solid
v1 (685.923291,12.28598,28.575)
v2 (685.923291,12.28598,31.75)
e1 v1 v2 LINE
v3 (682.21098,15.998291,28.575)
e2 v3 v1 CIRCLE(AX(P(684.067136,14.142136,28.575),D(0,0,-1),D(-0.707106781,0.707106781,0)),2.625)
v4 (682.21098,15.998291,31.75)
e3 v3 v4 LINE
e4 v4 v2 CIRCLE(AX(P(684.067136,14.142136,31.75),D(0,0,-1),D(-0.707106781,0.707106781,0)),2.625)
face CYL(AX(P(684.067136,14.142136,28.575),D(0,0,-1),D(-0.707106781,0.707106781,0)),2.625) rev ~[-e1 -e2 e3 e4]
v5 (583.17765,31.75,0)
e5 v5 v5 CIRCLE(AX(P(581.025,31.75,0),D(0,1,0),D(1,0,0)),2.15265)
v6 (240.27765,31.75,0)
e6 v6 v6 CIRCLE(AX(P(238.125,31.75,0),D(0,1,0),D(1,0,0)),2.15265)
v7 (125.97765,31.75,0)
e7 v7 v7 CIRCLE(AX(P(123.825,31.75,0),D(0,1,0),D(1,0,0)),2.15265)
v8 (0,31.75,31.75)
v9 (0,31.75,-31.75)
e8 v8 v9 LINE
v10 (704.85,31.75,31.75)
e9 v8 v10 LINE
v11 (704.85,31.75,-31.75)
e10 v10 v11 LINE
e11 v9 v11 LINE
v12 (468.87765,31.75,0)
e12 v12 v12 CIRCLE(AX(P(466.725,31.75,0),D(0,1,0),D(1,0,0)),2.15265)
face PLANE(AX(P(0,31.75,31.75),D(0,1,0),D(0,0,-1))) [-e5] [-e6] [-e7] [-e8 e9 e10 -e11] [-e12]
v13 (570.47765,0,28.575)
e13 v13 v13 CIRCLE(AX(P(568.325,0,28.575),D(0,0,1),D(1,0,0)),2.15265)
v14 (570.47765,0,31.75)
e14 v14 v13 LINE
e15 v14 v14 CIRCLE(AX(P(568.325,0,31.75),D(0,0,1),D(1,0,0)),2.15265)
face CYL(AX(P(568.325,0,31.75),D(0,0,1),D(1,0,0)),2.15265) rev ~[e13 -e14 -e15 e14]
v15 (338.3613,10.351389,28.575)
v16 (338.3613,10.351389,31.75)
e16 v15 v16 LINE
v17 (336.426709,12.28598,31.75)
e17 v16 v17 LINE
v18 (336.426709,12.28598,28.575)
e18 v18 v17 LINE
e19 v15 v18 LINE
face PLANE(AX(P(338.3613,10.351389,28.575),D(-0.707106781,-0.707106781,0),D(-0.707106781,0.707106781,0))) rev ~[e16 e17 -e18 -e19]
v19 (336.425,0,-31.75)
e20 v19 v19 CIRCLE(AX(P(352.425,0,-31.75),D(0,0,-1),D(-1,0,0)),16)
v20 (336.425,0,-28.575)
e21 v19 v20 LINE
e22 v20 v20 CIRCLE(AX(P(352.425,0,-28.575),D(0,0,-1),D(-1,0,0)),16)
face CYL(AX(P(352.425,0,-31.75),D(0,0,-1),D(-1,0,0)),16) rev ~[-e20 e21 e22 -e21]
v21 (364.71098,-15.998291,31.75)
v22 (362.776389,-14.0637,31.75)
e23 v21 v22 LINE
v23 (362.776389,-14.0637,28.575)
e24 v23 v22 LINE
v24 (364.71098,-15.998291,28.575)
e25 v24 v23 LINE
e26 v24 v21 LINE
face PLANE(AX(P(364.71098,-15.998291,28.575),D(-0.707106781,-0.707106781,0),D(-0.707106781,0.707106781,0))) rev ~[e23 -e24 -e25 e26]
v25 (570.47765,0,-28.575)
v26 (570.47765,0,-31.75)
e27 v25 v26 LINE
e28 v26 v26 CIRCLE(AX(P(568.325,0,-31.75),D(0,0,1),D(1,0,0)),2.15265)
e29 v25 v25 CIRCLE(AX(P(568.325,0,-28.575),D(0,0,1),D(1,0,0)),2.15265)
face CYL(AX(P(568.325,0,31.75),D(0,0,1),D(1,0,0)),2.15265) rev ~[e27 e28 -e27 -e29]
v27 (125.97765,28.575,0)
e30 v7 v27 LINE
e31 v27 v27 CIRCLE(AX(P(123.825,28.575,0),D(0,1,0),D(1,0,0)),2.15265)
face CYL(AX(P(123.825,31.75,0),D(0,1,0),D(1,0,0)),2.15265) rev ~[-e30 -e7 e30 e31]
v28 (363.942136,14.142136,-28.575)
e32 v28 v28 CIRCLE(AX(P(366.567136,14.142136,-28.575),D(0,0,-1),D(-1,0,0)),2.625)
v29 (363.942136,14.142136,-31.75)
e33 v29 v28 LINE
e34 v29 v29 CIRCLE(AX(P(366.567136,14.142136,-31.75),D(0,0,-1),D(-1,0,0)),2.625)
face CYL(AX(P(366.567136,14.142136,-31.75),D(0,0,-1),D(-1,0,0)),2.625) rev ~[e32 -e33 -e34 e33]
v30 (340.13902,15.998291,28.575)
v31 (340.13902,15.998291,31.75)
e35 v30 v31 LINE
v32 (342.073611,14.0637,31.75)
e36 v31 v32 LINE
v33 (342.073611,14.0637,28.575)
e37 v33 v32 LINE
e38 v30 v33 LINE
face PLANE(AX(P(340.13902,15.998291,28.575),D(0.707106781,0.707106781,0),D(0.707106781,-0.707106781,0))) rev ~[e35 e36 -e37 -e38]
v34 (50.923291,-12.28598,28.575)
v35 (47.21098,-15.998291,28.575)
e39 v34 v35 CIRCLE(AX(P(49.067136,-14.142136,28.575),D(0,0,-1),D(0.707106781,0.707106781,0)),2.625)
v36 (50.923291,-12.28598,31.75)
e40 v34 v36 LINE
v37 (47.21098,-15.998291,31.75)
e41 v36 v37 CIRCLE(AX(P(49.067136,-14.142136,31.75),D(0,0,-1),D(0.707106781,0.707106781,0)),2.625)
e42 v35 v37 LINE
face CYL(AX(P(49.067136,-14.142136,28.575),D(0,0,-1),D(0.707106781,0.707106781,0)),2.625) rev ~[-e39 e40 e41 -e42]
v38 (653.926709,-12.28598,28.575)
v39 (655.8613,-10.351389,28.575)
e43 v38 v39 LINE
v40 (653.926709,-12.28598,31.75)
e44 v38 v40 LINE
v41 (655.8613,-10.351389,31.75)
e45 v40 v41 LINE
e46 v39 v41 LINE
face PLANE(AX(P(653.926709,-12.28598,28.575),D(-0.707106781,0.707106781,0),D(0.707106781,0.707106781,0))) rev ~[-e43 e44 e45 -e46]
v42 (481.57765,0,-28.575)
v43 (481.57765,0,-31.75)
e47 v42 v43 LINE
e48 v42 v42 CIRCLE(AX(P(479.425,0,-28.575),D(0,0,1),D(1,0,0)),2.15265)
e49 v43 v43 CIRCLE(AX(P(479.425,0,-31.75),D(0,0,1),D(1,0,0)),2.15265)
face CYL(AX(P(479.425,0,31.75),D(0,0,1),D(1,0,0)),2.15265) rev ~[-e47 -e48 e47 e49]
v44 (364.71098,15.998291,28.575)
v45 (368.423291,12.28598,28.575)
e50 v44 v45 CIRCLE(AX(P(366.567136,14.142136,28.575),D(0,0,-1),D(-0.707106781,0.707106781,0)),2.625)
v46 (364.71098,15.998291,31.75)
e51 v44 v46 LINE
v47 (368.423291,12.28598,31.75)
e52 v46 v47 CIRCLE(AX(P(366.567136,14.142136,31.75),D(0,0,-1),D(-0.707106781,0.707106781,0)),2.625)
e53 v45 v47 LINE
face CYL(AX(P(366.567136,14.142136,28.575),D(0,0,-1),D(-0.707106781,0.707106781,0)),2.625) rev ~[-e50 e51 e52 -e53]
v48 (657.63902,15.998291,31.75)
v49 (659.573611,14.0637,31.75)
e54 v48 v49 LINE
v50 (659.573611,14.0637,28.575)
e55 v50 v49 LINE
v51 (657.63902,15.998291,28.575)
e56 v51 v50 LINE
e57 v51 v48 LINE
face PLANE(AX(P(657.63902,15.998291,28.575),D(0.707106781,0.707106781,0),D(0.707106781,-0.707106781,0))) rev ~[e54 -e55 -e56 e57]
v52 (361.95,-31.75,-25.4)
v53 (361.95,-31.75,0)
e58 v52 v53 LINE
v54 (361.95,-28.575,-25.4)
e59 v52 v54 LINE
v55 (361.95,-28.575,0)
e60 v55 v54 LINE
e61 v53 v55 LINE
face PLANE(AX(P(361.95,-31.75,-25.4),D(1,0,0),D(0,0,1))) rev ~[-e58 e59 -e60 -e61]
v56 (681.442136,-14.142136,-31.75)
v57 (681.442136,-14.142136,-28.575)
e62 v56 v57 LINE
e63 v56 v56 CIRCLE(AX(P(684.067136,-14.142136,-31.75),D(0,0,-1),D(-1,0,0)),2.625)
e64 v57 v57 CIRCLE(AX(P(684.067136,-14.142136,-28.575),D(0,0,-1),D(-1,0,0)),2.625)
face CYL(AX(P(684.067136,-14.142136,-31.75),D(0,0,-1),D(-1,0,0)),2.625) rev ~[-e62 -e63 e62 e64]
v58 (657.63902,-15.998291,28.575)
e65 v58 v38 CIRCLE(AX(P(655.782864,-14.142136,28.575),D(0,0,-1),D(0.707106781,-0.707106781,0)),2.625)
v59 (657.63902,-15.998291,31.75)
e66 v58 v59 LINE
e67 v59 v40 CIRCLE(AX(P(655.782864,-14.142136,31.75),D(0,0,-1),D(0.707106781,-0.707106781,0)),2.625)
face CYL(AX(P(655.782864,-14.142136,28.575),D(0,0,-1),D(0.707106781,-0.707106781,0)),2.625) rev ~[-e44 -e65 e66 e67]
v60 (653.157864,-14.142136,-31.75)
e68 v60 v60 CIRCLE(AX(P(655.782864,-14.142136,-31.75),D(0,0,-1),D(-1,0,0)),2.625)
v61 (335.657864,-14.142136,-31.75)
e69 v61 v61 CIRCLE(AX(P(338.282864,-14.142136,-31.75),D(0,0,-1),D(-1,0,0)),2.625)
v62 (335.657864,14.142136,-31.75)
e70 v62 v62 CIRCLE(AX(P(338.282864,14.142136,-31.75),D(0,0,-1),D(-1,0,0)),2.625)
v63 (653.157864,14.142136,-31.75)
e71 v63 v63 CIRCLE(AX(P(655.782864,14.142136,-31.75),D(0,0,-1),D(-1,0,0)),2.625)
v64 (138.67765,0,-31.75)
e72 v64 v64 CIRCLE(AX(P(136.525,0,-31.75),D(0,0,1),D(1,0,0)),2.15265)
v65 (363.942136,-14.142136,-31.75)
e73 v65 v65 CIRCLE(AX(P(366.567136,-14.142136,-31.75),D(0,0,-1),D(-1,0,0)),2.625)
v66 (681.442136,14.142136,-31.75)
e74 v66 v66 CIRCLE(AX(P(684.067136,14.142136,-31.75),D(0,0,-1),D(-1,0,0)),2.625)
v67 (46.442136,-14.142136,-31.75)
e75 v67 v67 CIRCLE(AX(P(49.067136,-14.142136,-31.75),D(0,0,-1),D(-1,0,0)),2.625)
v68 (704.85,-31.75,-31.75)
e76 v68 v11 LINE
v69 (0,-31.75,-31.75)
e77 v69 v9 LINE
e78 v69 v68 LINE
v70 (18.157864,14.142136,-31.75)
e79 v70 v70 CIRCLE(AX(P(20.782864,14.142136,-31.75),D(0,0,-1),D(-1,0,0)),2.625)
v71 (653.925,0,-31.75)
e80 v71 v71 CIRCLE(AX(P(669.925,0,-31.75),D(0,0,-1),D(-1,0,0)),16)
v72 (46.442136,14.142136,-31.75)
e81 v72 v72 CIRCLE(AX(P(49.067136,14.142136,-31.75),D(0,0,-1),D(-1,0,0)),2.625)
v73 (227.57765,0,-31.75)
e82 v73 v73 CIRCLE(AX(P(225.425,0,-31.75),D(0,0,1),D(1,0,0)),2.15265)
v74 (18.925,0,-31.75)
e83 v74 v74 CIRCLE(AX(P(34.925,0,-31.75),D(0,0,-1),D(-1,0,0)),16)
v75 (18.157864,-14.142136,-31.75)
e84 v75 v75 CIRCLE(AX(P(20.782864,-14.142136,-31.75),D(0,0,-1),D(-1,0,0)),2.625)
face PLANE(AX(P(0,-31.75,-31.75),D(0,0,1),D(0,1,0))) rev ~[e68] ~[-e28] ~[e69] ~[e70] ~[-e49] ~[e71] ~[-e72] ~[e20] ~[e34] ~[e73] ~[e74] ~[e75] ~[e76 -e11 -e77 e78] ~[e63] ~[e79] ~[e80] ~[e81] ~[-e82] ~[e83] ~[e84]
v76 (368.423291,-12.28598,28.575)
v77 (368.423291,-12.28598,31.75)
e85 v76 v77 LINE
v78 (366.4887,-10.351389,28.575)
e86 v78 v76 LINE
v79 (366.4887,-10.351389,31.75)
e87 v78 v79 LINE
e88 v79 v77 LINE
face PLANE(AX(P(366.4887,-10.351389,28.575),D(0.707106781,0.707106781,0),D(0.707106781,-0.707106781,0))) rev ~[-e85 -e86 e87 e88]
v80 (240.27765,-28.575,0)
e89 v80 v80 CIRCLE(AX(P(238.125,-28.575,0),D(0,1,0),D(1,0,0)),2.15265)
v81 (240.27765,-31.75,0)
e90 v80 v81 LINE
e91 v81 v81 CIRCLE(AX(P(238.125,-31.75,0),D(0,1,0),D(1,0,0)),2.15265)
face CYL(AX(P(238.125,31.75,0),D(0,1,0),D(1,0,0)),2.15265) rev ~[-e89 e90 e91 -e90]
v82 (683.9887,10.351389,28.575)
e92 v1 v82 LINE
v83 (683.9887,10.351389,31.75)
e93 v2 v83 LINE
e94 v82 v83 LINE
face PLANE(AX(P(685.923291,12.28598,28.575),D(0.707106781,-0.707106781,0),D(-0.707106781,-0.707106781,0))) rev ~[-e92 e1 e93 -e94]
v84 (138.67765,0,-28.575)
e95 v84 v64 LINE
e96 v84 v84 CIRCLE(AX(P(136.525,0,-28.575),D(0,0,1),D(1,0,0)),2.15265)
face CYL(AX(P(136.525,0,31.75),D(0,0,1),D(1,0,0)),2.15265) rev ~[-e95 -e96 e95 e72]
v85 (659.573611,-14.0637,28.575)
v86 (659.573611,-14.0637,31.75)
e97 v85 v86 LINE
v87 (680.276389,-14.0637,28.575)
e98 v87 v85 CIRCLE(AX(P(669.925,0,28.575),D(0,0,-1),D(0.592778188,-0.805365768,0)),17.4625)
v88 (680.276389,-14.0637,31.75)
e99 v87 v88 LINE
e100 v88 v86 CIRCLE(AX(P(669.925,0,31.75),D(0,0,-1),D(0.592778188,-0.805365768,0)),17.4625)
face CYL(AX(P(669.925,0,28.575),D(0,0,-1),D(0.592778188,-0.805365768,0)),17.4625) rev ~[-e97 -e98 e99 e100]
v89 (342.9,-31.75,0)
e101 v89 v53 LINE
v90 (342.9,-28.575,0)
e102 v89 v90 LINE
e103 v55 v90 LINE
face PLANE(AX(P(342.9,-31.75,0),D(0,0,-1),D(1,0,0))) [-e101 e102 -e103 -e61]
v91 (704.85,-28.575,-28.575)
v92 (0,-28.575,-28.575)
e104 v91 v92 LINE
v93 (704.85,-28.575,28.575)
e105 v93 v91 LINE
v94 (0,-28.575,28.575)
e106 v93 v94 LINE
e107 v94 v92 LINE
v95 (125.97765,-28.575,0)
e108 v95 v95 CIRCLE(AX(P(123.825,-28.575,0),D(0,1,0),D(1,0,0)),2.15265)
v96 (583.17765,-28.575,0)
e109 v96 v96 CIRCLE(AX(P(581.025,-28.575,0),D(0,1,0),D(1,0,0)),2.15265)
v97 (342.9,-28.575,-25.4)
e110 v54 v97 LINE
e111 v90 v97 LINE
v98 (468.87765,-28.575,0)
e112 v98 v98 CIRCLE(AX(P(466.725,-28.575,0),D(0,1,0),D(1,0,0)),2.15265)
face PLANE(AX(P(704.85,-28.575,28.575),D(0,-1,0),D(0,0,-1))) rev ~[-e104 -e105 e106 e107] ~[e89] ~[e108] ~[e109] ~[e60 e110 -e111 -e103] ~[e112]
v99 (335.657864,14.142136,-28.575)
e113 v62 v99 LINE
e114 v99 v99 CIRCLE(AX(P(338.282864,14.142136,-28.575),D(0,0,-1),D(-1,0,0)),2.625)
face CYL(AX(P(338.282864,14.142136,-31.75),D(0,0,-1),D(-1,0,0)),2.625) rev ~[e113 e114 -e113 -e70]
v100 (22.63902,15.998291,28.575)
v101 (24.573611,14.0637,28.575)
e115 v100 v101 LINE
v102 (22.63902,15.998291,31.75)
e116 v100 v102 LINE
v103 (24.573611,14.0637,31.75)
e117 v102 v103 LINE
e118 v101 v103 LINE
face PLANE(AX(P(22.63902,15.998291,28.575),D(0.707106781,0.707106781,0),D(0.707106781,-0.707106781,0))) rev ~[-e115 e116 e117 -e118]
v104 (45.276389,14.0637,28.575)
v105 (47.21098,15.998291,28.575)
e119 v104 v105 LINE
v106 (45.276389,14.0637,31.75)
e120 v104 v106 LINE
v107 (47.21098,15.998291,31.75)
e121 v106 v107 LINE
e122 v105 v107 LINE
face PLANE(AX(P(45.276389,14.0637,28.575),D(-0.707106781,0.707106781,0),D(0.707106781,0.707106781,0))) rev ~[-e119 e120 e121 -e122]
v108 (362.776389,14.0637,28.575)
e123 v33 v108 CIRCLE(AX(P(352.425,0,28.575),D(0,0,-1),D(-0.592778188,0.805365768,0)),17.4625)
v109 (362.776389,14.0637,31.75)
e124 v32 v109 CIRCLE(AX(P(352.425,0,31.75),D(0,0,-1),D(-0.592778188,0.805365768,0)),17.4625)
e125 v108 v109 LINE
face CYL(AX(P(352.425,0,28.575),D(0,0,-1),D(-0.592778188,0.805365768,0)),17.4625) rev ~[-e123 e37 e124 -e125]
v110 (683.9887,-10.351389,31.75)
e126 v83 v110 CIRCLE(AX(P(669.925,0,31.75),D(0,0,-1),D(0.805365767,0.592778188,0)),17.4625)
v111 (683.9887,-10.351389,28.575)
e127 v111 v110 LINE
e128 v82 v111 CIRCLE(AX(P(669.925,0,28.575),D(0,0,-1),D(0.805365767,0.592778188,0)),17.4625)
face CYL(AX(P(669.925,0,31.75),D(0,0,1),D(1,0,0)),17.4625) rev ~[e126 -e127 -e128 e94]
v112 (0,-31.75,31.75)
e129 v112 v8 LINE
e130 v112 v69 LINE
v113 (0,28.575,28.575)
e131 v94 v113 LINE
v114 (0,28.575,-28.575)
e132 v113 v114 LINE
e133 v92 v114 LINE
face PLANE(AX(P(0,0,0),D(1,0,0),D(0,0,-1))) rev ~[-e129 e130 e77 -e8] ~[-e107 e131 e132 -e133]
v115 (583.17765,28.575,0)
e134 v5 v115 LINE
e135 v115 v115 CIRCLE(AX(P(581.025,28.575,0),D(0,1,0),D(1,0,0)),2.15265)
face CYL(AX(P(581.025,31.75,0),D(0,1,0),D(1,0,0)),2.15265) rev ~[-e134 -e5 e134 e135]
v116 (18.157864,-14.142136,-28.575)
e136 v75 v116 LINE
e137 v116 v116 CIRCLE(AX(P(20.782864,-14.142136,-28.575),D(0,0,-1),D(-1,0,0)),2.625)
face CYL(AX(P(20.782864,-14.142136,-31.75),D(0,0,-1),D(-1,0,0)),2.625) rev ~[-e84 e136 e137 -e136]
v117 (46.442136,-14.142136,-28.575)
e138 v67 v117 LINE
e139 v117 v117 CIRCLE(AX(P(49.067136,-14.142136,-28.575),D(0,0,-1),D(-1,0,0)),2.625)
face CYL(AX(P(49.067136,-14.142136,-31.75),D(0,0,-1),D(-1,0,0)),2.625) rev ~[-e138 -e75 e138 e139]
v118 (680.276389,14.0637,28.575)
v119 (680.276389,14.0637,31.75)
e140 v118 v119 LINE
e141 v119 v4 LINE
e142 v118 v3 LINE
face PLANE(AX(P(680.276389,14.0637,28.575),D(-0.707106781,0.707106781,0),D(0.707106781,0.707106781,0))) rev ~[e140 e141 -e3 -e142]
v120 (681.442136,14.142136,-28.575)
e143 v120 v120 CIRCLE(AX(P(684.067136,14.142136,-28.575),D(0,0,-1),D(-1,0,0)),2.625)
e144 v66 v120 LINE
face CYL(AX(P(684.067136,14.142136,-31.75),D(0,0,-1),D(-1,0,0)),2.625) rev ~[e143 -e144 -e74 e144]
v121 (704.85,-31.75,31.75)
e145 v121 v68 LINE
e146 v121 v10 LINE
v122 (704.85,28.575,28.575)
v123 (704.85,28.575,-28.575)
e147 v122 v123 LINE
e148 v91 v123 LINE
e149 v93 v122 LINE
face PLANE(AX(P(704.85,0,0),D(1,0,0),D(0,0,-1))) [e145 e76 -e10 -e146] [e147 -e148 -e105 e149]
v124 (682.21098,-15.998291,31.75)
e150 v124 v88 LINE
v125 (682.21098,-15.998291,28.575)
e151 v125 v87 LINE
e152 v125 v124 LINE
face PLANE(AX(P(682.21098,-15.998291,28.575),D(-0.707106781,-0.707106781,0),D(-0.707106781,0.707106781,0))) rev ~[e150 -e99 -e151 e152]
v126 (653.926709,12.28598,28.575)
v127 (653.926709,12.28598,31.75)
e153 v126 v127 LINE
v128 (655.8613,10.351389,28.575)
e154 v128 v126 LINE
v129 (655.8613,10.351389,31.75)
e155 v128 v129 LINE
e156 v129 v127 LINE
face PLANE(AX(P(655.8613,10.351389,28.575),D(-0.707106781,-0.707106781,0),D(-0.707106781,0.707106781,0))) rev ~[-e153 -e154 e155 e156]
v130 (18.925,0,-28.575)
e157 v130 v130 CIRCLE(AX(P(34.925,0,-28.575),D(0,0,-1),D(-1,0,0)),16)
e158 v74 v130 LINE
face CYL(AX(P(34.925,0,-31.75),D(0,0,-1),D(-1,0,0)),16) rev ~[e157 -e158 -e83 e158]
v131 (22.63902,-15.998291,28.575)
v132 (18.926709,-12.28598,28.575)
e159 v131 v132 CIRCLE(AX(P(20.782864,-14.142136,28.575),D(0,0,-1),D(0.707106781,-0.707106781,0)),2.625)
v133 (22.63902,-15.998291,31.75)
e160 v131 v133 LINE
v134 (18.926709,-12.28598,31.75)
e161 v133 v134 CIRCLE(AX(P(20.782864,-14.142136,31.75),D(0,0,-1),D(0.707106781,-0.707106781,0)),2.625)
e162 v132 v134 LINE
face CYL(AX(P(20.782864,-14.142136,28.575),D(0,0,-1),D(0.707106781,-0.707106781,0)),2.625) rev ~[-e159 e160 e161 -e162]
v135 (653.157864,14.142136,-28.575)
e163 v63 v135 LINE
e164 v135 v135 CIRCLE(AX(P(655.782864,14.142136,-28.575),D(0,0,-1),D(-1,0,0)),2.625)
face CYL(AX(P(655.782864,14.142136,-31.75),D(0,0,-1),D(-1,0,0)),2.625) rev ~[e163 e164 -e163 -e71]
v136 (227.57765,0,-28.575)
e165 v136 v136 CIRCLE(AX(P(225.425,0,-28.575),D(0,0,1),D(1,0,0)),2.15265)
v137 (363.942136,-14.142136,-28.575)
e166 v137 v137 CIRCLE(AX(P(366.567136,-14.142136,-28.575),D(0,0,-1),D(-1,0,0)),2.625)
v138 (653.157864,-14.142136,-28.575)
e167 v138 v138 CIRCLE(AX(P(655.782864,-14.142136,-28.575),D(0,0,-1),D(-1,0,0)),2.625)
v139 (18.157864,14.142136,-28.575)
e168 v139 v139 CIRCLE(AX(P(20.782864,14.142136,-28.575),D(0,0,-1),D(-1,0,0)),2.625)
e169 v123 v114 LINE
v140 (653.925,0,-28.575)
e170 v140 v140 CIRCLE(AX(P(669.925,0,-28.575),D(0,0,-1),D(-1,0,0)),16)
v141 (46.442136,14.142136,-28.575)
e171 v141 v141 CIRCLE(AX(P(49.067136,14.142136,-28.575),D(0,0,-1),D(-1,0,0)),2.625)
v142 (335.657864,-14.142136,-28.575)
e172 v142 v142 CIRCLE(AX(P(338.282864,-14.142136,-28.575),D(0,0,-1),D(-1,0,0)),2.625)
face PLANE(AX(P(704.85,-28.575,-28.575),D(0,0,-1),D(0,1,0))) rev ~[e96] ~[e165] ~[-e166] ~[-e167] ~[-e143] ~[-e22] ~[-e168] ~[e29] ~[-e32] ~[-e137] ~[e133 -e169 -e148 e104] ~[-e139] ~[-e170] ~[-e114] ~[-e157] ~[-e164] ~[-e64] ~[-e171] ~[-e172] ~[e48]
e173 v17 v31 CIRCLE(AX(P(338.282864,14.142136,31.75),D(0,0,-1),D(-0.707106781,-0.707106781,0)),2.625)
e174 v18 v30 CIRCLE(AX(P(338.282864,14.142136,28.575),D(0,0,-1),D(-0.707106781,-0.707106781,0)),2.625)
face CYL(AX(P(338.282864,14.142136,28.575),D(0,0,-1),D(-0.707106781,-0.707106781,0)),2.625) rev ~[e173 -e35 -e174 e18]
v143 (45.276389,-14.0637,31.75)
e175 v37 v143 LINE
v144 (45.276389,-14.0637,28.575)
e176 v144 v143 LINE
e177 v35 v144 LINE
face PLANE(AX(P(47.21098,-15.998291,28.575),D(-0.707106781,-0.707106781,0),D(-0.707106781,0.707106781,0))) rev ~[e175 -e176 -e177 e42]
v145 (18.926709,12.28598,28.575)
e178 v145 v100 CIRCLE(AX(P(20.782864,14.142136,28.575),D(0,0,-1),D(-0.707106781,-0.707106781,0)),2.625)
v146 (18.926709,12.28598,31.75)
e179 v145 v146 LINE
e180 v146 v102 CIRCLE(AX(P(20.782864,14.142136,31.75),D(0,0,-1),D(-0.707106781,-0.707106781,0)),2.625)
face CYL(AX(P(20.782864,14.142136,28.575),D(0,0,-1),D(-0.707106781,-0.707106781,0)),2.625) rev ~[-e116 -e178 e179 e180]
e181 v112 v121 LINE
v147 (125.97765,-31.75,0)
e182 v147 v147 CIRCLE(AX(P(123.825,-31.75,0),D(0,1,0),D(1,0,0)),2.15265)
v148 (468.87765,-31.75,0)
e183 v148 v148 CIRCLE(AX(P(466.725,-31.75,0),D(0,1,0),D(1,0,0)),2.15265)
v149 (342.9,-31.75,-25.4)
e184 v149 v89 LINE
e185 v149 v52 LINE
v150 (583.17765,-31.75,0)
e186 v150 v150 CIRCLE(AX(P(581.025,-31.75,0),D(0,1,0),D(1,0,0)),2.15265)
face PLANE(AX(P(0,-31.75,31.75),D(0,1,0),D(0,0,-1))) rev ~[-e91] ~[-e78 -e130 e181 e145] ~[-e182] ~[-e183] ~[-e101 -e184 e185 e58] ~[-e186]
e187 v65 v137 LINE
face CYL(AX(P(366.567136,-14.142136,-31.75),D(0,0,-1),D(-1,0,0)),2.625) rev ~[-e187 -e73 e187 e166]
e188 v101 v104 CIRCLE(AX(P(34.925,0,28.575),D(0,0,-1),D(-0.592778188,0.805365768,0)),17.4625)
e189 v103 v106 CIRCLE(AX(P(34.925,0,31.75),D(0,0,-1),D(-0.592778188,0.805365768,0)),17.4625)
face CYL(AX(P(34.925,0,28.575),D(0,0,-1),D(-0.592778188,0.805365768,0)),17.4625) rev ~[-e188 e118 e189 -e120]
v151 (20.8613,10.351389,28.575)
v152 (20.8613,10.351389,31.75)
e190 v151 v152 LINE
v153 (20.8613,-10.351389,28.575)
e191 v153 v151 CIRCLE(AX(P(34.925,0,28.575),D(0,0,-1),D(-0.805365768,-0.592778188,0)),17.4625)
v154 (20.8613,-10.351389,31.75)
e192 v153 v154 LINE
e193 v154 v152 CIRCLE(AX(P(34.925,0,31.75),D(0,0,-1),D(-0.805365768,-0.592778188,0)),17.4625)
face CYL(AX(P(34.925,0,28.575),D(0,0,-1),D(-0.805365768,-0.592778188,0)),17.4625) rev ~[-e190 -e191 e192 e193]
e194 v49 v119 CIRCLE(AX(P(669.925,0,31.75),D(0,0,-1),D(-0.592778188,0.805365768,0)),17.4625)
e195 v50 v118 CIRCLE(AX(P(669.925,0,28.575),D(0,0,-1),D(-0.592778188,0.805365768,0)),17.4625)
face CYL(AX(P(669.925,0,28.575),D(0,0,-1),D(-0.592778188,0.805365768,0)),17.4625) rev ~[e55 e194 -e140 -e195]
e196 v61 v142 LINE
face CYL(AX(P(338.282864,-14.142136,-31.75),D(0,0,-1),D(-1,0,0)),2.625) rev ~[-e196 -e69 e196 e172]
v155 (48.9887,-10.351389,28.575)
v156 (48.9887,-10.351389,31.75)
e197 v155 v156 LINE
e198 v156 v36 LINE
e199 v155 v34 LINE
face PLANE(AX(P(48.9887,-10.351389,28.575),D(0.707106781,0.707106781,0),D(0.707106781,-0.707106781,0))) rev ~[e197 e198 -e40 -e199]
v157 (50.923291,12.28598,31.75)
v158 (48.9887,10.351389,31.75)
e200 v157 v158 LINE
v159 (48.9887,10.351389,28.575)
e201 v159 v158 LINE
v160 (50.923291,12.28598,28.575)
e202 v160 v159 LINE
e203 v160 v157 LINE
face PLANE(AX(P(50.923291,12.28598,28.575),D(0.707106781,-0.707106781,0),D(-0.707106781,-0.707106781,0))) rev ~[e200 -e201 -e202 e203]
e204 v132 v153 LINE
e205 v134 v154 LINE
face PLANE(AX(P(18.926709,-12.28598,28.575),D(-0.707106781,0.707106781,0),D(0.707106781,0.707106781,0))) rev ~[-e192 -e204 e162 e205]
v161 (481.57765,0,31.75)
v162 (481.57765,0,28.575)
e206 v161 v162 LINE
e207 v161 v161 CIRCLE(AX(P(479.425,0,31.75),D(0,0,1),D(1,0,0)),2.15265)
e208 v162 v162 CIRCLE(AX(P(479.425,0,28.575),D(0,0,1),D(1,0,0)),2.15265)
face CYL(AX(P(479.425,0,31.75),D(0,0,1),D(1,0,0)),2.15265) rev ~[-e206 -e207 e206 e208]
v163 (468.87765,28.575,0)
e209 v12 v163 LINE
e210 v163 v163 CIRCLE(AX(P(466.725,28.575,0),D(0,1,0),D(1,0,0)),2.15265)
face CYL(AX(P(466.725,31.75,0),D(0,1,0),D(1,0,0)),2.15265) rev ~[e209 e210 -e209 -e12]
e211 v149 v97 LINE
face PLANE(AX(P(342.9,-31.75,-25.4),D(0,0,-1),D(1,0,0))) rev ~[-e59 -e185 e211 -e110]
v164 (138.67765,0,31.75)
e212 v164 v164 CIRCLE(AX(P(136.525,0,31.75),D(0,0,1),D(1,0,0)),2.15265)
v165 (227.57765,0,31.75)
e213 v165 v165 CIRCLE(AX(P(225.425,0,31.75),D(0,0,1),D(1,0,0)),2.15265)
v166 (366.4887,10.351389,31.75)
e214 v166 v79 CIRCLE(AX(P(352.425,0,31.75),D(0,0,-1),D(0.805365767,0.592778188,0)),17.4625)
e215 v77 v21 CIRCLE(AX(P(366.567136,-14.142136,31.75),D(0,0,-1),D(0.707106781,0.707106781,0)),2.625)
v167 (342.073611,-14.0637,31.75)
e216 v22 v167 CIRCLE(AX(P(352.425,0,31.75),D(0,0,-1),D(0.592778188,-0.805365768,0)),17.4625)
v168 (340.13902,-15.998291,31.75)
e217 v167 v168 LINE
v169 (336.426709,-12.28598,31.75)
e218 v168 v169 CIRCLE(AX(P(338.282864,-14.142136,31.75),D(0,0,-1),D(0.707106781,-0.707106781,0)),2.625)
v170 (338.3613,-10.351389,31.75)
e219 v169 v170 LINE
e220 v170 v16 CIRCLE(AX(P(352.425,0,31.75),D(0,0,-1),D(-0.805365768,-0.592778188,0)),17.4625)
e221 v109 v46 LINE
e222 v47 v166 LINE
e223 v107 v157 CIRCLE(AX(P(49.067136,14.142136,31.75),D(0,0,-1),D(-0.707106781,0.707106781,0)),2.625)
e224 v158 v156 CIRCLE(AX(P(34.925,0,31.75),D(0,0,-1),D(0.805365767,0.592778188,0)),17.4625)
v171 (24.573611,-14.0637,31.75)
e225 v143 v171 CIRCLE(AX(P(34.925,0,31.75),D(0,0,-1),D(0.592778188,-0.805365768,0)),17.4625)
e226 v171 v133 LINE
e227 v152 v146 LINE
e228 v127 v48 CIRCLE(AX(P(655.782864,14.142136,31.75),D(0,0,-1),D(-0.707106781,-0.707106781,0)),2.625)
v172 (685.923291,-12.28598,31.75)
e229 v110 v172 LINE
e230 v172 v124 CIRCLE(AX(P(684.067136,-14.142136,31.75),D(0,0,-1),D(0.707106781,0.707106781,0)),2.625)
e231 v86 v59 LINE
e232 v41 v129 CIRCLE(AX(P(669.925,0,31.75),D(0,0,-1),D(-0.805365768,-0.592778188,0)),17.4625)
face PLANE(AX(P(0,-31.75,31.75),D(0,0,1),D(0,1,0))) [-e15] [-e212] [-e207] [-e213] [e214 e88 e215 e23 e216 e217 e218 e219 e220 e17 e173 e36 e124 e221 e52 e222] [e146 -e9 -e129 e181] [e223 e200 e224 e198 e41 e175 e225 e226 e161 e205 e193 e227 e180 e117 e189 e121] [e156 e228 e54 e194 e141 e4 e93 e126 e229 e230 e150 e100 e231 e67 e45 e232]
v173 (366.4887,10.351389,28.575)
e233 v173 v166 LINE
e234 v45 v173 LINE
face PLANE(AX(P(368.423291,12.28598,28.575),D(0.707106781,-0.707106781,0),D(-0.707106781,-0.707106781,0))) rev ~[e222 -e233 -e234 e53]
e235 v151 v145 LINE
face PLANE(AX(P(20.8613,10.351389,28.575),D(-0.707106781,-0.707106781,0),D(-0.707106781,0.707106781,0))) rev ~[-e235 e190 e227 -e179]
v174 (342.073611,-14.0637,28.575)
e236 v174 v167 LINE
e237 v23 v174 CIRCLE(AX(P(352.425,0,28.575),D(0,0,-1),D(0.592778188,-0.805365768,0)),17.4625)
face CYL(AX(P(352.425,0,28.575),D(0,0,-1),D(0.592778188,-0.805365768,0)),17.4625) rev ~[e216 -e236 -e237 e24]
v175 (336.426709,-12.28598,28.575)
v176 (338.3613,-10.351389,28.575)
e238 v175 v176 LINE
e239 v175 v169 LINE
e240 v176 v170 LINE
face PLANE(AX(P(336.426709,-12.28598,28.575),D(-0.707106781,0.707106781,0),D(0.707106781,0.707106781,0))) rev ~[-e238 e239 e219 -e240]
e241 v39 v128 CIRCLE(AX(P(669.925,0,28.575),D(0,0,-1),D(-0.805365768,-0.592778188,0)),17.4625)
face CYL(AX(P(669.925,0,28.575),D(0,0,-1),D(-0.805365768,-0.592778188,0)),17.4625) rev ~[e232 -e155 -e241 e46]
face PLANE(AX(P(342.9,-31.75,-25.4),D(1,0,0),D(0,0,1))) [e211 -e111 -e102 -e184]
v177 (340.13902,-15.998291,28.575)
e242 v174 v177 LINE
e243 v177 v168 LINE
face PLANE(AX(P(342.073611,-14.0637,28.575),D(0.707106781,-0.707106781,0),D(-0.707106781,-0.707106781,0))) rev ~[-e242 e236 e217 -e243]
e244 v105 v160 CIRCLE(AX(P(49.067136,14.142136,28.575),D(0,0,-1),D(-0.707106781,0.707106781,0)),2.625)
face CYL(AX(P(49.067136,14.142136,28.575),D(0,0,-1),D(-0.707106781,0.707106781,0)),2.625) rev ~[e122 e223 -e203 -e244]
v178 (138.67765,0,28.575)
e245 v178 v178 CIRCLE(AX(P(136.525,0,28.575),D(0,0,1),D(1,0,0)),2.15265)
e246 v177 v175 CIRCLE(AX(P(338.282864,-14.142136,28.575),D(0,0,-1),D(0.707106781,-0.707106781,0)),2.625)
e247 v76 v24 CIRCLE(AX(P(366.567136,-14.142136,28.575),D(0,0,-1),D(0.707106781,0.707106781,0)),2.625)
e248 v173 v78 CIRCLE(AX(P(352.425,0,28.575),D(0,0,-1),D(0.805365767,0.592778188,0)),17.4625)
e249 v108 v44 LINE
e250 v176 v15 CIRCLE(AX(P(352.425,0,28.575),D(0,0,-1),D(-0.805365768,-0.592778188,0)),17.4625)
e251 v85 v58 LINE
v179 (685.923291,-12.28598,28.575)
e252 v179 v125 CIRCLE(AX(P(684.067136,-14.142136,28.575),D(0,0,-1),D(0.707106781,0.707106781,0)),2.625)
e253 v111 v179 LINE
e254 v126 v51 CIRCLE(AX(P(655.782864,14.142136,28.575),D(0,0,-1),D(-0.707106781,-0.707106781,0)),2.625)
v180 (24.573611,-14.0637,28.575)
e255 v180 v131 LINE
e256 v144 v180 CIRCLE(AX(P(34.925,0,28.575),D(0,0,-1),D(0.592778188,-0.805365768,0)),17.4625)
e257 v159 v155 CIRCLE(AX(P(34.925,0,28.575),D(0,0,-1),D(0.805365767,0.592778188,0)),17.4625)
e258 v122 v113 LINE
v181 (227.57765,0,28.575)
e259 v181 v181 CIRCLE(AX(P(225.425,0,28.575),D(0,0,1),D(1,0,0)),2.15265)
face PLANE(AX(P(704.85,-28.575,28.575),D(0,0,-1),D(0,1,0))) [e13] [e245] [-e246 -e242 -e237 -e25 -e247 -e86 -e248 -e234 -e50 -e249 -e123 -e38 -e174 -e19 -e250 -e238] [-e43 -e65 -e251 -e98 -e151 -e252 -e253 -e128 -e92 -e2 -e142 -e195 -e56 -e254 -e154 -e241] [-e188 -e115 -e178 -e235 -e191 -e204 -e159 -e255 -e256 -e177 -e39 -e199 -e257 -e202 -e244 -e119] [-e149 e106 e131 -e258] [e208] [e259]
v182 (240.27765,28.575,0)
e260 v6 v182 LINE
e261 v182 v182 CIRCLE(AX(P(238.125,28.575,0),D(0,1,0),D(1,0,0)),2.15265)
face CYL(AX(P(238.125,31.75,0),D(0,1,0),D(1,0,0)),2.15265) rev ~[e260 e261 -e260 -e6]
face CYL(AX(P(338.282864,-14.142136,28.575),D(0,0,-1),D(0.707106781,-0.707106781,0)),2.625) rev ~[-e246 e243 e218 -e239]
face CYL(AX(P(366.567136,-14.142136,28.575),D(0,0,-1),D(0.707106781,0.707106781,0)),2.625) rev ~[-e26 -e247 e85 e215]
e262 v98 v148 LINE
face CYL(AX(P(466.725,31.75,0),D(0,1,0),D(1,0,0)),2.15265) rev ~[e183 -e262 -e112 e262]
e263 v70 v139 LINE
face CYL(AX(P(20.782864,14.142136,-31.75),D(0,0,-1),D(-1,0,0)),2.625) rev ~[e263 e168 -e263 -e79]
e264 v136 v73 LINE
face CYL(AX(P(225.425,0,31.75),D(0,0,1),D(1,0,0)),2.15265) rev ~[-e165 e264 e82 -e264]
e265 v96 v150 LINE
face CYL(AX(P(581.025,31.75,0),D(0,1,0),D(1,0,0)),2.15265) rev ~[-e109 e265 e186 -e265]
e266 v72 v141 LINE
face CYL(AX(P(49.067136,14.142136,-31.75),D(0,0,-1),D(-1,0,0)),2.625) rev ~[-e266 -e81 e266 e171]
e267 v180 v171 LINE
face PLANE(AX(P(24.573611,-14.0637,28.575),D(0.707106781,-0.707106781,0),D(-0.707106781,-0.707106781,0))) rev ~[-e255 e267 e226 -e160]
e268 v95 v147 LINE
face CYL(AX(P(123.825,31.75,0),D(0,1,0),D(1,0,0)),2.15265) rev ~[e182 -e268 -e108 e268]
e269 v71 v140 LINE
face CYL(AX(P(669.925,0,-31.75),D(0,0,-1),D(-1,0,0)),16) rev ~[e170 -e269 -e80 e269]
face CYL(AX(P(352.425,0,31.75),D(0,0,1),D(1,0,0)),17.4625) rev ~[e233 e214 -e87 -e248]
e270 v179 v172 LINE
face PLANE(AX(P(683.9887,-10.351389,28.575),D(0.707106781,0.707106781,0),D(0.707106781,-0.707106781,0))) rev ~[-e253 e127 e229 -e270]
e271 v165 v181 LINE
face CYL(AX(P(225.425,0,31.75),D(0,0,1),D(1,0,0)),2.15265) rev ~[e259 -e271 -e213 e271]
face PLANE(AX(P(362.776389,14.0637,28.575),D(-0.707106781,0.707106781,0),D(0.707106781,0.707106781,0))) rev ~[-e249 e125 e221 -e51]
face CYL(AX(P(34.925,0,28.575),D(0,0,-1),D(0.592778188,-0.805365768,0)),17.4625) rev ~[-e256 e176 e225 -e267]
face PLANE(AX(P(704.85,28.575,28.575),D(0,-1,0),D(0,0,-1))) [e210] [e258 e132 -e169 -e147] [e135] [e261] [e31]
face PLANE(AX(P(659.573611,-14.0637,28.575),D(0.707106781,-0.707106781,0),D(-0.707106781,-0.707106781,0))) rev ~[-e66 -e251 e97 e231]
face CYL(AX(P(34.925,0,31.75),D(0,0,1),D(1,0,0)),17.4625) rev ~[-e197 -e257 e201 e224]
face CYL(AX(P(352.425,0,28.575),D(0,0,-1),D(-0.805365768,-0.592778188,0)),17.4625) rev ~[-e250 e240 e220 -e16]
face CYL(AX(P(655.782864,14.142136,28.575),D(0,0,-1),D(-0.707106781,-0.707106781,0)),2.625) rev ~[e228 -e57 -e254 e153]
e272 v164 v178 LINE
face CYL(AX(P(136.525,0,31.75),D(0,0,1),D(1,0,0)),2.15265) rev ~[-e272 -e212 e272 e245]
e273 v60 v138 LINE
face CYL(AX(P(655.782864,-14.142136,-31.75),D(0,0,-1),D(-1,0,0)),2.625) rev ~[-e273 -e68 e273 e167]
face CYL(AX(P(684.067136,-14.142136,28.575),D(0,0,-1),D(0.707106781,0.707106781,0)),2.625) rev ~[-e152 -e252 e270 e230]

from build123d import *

# Parameters (mm, degrees)
SKETCH1_W           = 63.5
SKETCH1_H           = 63.5
BOSS_EXTRUDE1_DEPTH = 704.85
SKETCH2_W           = 57.15
SKETCH2_H           = 57.15
CUT_EXTRUDE1_DEPTH  = 705.85
CUT_EXTRUDE2_REACH  = 65.5
SKETCH3_R           = 17.4625
SKETCH8_R           = 2.15265
CUT_EXTRUDE6_DEPTH  = 64.5
SKETCH10_R          = 2.15265
CUT_EXTRUDE7_DEPTH  = 64.5
CUT_EXTRUDE9_REACH  = 65.5
SKETCH13_R          = 16
SKETCH14_R          = 2.625
SKETCH14_R_2        = 16
CUT_EXTRUDE10_DEPTH = 3.175
CUT_EXTRUDE11_START = -3.175
CUT_EXTRUDE11_DEPTH = 3.175
CUT_EXTRUDE13_REACH = 65.5
SKETCH17_W          = 19.05
SKETCH17_H          = 25.4


with BuildPart() as part:
    # Sketch1 → Boss-Extrude1 (new body)
    with BuildSketch(Plane(origin=(0, 0, 0), x_dir=(0, 0, -1), z_dir=(1, 0, 0))):
        Rectangle(SKETCH1_W, SKETCH1_H)
    extrude(amount=BOSS_EXTRUDE1_DEPTH)

    # Sketch2 → Cut-Extrude1 (cut, through all)
    with BuildSketch(Plane(origin=(704.85, 0, 0), x_dir=(0, 0, -1), z_dir=(1, 0, 0))):
        Rectangle(SKETCH2_W, SKETCH2_H)
    extrude(amount=-CUT_EXTRUDE1_DEPTH, mode=Mode.SUBTRACT)

    # Sketch3 → Cut-Extrude2 (cut, up to next)
    with BuildSketch(Plane.XY.offset(31.75), mode=Mode.PRIVATE) as cut_extrude2_sk1:
        with Locations((352.425, 0)):
            Circle(SKETCH3_R)
    cut_extrude2_tool1 = extrude(cut_extrude2_sk1.sketch, amount=-CUT_EXTRUDE2_REACH, mode=Mode.PRIVATE) & part.part
    add(cut_extrude2_tool1.solids().sort_by_distance((352.425, 0, 31.75))[0], mode=Mode.SUBTRACT)
    # Sketch3 → Cut-Extrude2 (cut, up to next)
    with BuildSketch(Plane.XY.offset(31.75), mode=Mode.PRIVATE) as cut_extrude2_sk2:
        with Locations((34.925, 0)):
            Circle(SKETCH3_R)
    cut_extrude2_tool2 = extrude(cut_extrude2_sk2.sketch, amount=-CUT_EXTRUDE2_REACH, mode=Mode.PRIVATE) & part.part
    add(cut_extrude2_tool2.solids().sort_by_distance((34.925, 0, 31.75))[0], mode=Mode.SUBTRACT)
    # Sketch3 → Cut-Extrude2 (cut, up to next)
    with BuildSketch(Plane.XY.offset(31.75), mode=Mode.PRIVATE) as cut_extrude2_sk3:
        with Locations((669.925, 0)):
            Circle(SKETCH3_R)
    cut_extrude2_tool3 = extrude(cut_extrude2_sk3.sketch, amount=-CUT_EXTRUDE2_REACH, mode=Mode.PRIVATE) & part.part
    add(cut_extrude2_tool3.solids().sort_by_distance((669.925, 0, 31.75))[0], mode=Mode.SUBTRACT)

    # Sketch8 → Cut-Extrude6 (cut, through all)
    with BuildSketch(Plane(origin=(0, 31.75, 0), x_dir=(1, 0, 0), z_dir=(0, 1, 0))):
        with Locations((466.725, 0)):
            Circle(SKETCH8_R)
        with Locations((123.825, 0)):
            Circle(SKETCH8_R)
        with Locations((581.025, 0)):
            Circle(SKETCH8_R)
        with Locations((238.125, 0)):
            Circle(SKETCH8_R)
    extrude(amount=-CUT_EXTRUDE6_DEPTH, mode=Mode.SUBTRACT)

    # Sketch10 → Cut-Extrude7 (cut, through all)
    with BuildSketch(Plane.XY.offset(31.75)):
        with Locations((225.425, 0)):
            Circle(SKETCH10_R)
        with Locations((568.325, 0)):
            Circle(SKETCH10_R)
        with Locations((136.525, 0)):
            Circle(SKETCH10_R)
        with Locations((479.425, 0)):
            Circle(SKETCH10_R)
    extrude(amount=-CUT_EXTRUDE7_DEPTH, mode=Mode.SUBTRACT)

    # Sketch13 → Cut-Extrude9 (cut, up to next)
    with BuildSketch(Plane(origin=(0, 0, -31.75), x_dir=(-1, 0, 0), z_dir=(0, 0, -1)), mode=Mode.PRIVATE) as cut_extrude9_sk1:
        with Locations((-352.425, 0)):
            Circle(SKETCH13_R)
    cut_extrude9_tool1 = extrude(cut_extrude9_sk1.sketch, amount=-CUT_EXTRUDE9_REACH, mode=Mode.PRIVATE) & part.part
    add(cut_extrude9_tool1.solids().sort_by_distance((352.425, 0, -31.75))[0], mode=Mode.SUBTRACT)
    # Sketch13 → Cut-Extrude9 (cut, up to next)
    with BuildSketch(Plane(origin=(0, 0, -31.75), x_dir=(-1, 0, 0), z_dir=(0, 0, -1)), mode=Mode.PRIVATE) as cut_extrude9_sk2:
        with Locations((-34.925, 0)):
            Circle(SKETCH13_R)
    cut_extrude9_tool2 = extrude(cut_extrude9_sk2.sketch, amount=-CUT_EXTRUDE9_REACH, mode=Mode.PRIVATE) & part.part
    add(cut_extrude9_tool2.solids().sort_by_distance((34.925, 0, -31.75))[0], mode=Mode.SUBTRACT)
    # Sketch13 → Cut-Extrude9 (cut, up to next)
    with BuildSketch(Plane(origin=(0, 0, -31.75), x_dir=(-1, 0, 0), z_dir=(0, 0, -1)), mode=Mode.PRIVATE) as cut_extrude9_sk3:
        with Locations((-669.925, 0)):
            Circle(SKETCH13_R)
    cut_extrude9_tool3 = extrude(cut_extrude9_sk3.sketch, amount=-CUT_EXTRUDE9_REACH, mode=Mode.PRIVATE) & part.part
    add(cut_extrude9_tool3.solids().sort_by_distance((669.925, 0, -31.75))[0], mode=Mode.SUBTRACT)

    # Sketch14 → Cut-Extrude10 (cut)
    with BuildSketch(Plane(origin=(0, 0, -31.75), x_dir=(-1, 0, 0), z_dir=(0, 0, -1))):
        with Locations((-655.782864376, 14.142135624)):
            Circle(SKETCH14_R)
        with Locations((-338.282864376, 14.142135624)):
            Circle(SKETCH14_R)
        with Locations((-20.782864376, 14.142135624)):
            Circle(SKETCH14_R)
        with Locations((-352.425, 0)):
            Circle(SKETCH14_R_2)
        with Locations((-34.925, 0)):
            Circle(SKETCH14_R_2)
        with Locations((-669.925, 0)):
            Circle(SKETCH14_R_2)
        with Locations((-338.282864376, -14.142135624)):
            Circle(SKETCH14_R)
        with Locations((-366.567135624, -14.142135624)):
            Circle(SKETCH14_R)
        with Locations((-366.567135624, 14.142135624)):
            Circle(SKETCH14_R)
        with Locations((-20.782864376, -14.142135624)):
            Circle(SKETCH14_R)
        with Locations((-49.067135624, -14.142135624)):
            Circle(SKETCH14_R)
        with Locations((-49.067135624, 14.142135624)):
            Circle(SKETCH14_R)
        with Locations((-655.782864376, -14.142135624)):
            Circle(SKETCH14_R)
        with Locations((-684.067135624, -14.142135624)):
            Circle(SKETCH14_R)
        with Locations((-684.067135624, 14.142135624)):
            Circle(SKETCH14_R)
    extrude(amount=-CUT_EXTRUDE10_DEPTH, mode=Mode.SUBTRACT)

    # Sketch15 → Cut-Extrude11 (cut)
    with BuildSketch(Plane.XY.offset(31.75).offset(CUT_EXTRUDE11_START)):
        with BuildLine():
            Line((364.710980323, -15.998290924), (362.776389114, -14.063699715))
            ThreePointArc((362.776389114, -14.063699715), (352.425, -17.4625), (342.073610886, -14.063699715))
            Line((342.073610886, -14.063699715), (340.139019677, -15.998290924))
            ThreePointArc((340.139019677, -15.998290924), (336.426709076, -15.998290924), (336.426709076, -12.285980323))
            Line((336.426709076, -12.285980323), (338.361300285, -10.351389114))
            ThreePointArc((338.361300285, -10.351389114), (334.9625, 0), (338.361300285, 10.351389114))
            Line((338.361300285, 10.351389114), (336.426709076, 12.285980323))
            ThreePointArc((336.426709076, 12.285980323), (336.426709076, 15.998290924), (340.139019677, 15.998290924))
            Line((340.139019677, 15.998290924), (342.073610886, 14.063699715))
            ThreePointArc((342.073610886, 14.063699715), (352.425, 17.4625), (362.776389114, 14.063699715))
            Line((362.776389114, 14.063699715), (364.710980323, 15.998290924))
            ThreePointArc((364.710980323, 15.998290924), (368.423290924, 15.998290924), (368.423290924, 12.285980323))
            Line((368.423290924, 12.285980323), (366.488699715, 10.351389114))
            ThreePointArc((366.488699715, 10.351389114), (369.8875, 0), (366.488699715, -10.351389114))
            Line((366.488699715, -10.351389114), (368.423290924, -12.285980323))
            ThreePointArc((368.423290924, -12.285980323), (368.423290924, -15.998290924), (364.710980323, -15.998290924))
        make_face()
        with BuildLine():
            Line((50.923290924, 12.285980323), (48.988699715, 10.351389114))
            ThreePointArc((48.988699715, 10.351389114), (52.3875, 0), (48.988699715, -10.351389114))
            Line((48.988699715, -10.351389114), (50.923290924, -12.285980323))
            ThreePointArc((50.923290924, -12.285980323), (50.923290924, -15.998290924), (47.210980323, -15.998290924))
            Line((47.210980323, -15.998290924), (45.276389114, -14.063699715))
            ThreePointArc((45.276389114, -14.063699715), (34.925, -17.4625), (24.573610886, -14.063699715))
            Line((24.573610886, -14.063699715), (22.639019677, -15.998290924))
            ThreePointArc((22.639019677, -15.998290924), (18.926709076, -15.998290924), (18.926709076, -12.285980323))
            Line((18.926709076, -12.285980323), (20.861300285, -10.351389114))
            ThreePointArc((20.861300285, -10.351389114), (17.4625, 0), (20.861300285, 10.351389114))
            Line((20.861300285, 10.351389114), (18.926709076, 12.285980323))
            ThreePointArc((18.926709076, 12.285980323), (18.926709076, 15.998290924), (22.639019677, 15.998290924))
            Line((22.639019677, 15.998290924), (24.573610886, 14.063699715))
            ThreePointArc((24.573610886, 14.063699715), (34.925, 17.4625), (45.276389114, 14.063699715))
            Line((45.276389114, 14.063699715), (47.210980323, 15.998290924))
            ThreePointArc((47.210980323, 15.998290924), (50.923290924, 15.998290924), (50.923290924, 12.285980323))
        make_face()
        with BuildLine():
            Line((685.923290924, 12.285980323), (683.988699715, 10.351389114))
            ThreePointArc((683.988699715, 10.351389114), (687.3875, 0), (683.988699715, -10.351389114))
            Line((683.988699715, -10.351389114), (685.923290924, -12.285980323))
            ThreePointArc((685.923290924, -12.285980323), (685.923290924, -15.998290924), (682.210980323, -15.998290924))
            Line((682.210980323, -15.998290924), (680.276389114, -14.063699715))
            ThreePointArc((680.276389114, -14.063699715), (669.925, -17.4625), (659.573610886, -14.063699715))
            Line((659.573610886, -14.063699715), (657.639019677, -15.998290924))
            ThreePointArc((657.639019677, -15.998290924), (653.926709076, -15.998290924), (653.926709076, -12.285980323))
            Line((653.926709076, -12.285980323), (655.861300285, -10.351389114))
            ThreePointArc((655.861300285, -10.351389114), (652.4625, 0), (655.861300285, 10.351389114))
            Line((655.861300285, 10.351389114), (653.926709076, 12.285980323))
            ThreePointArc((653.926709076, 12.285980323), (653.926709076, 15.998290924), (657.639019677, 15.998290924))
            Line((657.639019677, 15.998290924), (659.573610886, 14.063699715))
            ThreePointArc((659.573610886, 14.063699715), (669.925, 17.4625), (680.276389114, 14.063699715))
            Line((680.276389114, 14.063699715), (682.210980323, 15.998290924))
            ThreePointArc((682.210980323, 15.998290924), (685.923290924, 15.998290924), (685.923290924, 12.285980323))
        make_face()
    extrude(amount=CUT_EXTRUDE11_DEPTH, mode=Mode.SUBTRACT)

    # Sketch17 → Cut-Extrude13 (cut, up to next)
    with BuildSketch(Plane.XZ.offset(31.75), mode=Mode.PRIVATE) as cut_extrude13_sk1:
        with Locations((352.425, -12.7)):
            Rectangle(SKETCH17_W, SKETCH17_H)
    cut_extrude13_tool1 = extrude(cut_extrude13_sk1.sketch, amount=-CUT_EXTRUDE13_REACH, mode=Mode.PRIVATE) & part.part
    add(cut_extrude13_tool1.solids().sort_by_distance((352.425, -31.75, -12.7))[0], mode=Mode.SUBTRACT)


solid = part.part
